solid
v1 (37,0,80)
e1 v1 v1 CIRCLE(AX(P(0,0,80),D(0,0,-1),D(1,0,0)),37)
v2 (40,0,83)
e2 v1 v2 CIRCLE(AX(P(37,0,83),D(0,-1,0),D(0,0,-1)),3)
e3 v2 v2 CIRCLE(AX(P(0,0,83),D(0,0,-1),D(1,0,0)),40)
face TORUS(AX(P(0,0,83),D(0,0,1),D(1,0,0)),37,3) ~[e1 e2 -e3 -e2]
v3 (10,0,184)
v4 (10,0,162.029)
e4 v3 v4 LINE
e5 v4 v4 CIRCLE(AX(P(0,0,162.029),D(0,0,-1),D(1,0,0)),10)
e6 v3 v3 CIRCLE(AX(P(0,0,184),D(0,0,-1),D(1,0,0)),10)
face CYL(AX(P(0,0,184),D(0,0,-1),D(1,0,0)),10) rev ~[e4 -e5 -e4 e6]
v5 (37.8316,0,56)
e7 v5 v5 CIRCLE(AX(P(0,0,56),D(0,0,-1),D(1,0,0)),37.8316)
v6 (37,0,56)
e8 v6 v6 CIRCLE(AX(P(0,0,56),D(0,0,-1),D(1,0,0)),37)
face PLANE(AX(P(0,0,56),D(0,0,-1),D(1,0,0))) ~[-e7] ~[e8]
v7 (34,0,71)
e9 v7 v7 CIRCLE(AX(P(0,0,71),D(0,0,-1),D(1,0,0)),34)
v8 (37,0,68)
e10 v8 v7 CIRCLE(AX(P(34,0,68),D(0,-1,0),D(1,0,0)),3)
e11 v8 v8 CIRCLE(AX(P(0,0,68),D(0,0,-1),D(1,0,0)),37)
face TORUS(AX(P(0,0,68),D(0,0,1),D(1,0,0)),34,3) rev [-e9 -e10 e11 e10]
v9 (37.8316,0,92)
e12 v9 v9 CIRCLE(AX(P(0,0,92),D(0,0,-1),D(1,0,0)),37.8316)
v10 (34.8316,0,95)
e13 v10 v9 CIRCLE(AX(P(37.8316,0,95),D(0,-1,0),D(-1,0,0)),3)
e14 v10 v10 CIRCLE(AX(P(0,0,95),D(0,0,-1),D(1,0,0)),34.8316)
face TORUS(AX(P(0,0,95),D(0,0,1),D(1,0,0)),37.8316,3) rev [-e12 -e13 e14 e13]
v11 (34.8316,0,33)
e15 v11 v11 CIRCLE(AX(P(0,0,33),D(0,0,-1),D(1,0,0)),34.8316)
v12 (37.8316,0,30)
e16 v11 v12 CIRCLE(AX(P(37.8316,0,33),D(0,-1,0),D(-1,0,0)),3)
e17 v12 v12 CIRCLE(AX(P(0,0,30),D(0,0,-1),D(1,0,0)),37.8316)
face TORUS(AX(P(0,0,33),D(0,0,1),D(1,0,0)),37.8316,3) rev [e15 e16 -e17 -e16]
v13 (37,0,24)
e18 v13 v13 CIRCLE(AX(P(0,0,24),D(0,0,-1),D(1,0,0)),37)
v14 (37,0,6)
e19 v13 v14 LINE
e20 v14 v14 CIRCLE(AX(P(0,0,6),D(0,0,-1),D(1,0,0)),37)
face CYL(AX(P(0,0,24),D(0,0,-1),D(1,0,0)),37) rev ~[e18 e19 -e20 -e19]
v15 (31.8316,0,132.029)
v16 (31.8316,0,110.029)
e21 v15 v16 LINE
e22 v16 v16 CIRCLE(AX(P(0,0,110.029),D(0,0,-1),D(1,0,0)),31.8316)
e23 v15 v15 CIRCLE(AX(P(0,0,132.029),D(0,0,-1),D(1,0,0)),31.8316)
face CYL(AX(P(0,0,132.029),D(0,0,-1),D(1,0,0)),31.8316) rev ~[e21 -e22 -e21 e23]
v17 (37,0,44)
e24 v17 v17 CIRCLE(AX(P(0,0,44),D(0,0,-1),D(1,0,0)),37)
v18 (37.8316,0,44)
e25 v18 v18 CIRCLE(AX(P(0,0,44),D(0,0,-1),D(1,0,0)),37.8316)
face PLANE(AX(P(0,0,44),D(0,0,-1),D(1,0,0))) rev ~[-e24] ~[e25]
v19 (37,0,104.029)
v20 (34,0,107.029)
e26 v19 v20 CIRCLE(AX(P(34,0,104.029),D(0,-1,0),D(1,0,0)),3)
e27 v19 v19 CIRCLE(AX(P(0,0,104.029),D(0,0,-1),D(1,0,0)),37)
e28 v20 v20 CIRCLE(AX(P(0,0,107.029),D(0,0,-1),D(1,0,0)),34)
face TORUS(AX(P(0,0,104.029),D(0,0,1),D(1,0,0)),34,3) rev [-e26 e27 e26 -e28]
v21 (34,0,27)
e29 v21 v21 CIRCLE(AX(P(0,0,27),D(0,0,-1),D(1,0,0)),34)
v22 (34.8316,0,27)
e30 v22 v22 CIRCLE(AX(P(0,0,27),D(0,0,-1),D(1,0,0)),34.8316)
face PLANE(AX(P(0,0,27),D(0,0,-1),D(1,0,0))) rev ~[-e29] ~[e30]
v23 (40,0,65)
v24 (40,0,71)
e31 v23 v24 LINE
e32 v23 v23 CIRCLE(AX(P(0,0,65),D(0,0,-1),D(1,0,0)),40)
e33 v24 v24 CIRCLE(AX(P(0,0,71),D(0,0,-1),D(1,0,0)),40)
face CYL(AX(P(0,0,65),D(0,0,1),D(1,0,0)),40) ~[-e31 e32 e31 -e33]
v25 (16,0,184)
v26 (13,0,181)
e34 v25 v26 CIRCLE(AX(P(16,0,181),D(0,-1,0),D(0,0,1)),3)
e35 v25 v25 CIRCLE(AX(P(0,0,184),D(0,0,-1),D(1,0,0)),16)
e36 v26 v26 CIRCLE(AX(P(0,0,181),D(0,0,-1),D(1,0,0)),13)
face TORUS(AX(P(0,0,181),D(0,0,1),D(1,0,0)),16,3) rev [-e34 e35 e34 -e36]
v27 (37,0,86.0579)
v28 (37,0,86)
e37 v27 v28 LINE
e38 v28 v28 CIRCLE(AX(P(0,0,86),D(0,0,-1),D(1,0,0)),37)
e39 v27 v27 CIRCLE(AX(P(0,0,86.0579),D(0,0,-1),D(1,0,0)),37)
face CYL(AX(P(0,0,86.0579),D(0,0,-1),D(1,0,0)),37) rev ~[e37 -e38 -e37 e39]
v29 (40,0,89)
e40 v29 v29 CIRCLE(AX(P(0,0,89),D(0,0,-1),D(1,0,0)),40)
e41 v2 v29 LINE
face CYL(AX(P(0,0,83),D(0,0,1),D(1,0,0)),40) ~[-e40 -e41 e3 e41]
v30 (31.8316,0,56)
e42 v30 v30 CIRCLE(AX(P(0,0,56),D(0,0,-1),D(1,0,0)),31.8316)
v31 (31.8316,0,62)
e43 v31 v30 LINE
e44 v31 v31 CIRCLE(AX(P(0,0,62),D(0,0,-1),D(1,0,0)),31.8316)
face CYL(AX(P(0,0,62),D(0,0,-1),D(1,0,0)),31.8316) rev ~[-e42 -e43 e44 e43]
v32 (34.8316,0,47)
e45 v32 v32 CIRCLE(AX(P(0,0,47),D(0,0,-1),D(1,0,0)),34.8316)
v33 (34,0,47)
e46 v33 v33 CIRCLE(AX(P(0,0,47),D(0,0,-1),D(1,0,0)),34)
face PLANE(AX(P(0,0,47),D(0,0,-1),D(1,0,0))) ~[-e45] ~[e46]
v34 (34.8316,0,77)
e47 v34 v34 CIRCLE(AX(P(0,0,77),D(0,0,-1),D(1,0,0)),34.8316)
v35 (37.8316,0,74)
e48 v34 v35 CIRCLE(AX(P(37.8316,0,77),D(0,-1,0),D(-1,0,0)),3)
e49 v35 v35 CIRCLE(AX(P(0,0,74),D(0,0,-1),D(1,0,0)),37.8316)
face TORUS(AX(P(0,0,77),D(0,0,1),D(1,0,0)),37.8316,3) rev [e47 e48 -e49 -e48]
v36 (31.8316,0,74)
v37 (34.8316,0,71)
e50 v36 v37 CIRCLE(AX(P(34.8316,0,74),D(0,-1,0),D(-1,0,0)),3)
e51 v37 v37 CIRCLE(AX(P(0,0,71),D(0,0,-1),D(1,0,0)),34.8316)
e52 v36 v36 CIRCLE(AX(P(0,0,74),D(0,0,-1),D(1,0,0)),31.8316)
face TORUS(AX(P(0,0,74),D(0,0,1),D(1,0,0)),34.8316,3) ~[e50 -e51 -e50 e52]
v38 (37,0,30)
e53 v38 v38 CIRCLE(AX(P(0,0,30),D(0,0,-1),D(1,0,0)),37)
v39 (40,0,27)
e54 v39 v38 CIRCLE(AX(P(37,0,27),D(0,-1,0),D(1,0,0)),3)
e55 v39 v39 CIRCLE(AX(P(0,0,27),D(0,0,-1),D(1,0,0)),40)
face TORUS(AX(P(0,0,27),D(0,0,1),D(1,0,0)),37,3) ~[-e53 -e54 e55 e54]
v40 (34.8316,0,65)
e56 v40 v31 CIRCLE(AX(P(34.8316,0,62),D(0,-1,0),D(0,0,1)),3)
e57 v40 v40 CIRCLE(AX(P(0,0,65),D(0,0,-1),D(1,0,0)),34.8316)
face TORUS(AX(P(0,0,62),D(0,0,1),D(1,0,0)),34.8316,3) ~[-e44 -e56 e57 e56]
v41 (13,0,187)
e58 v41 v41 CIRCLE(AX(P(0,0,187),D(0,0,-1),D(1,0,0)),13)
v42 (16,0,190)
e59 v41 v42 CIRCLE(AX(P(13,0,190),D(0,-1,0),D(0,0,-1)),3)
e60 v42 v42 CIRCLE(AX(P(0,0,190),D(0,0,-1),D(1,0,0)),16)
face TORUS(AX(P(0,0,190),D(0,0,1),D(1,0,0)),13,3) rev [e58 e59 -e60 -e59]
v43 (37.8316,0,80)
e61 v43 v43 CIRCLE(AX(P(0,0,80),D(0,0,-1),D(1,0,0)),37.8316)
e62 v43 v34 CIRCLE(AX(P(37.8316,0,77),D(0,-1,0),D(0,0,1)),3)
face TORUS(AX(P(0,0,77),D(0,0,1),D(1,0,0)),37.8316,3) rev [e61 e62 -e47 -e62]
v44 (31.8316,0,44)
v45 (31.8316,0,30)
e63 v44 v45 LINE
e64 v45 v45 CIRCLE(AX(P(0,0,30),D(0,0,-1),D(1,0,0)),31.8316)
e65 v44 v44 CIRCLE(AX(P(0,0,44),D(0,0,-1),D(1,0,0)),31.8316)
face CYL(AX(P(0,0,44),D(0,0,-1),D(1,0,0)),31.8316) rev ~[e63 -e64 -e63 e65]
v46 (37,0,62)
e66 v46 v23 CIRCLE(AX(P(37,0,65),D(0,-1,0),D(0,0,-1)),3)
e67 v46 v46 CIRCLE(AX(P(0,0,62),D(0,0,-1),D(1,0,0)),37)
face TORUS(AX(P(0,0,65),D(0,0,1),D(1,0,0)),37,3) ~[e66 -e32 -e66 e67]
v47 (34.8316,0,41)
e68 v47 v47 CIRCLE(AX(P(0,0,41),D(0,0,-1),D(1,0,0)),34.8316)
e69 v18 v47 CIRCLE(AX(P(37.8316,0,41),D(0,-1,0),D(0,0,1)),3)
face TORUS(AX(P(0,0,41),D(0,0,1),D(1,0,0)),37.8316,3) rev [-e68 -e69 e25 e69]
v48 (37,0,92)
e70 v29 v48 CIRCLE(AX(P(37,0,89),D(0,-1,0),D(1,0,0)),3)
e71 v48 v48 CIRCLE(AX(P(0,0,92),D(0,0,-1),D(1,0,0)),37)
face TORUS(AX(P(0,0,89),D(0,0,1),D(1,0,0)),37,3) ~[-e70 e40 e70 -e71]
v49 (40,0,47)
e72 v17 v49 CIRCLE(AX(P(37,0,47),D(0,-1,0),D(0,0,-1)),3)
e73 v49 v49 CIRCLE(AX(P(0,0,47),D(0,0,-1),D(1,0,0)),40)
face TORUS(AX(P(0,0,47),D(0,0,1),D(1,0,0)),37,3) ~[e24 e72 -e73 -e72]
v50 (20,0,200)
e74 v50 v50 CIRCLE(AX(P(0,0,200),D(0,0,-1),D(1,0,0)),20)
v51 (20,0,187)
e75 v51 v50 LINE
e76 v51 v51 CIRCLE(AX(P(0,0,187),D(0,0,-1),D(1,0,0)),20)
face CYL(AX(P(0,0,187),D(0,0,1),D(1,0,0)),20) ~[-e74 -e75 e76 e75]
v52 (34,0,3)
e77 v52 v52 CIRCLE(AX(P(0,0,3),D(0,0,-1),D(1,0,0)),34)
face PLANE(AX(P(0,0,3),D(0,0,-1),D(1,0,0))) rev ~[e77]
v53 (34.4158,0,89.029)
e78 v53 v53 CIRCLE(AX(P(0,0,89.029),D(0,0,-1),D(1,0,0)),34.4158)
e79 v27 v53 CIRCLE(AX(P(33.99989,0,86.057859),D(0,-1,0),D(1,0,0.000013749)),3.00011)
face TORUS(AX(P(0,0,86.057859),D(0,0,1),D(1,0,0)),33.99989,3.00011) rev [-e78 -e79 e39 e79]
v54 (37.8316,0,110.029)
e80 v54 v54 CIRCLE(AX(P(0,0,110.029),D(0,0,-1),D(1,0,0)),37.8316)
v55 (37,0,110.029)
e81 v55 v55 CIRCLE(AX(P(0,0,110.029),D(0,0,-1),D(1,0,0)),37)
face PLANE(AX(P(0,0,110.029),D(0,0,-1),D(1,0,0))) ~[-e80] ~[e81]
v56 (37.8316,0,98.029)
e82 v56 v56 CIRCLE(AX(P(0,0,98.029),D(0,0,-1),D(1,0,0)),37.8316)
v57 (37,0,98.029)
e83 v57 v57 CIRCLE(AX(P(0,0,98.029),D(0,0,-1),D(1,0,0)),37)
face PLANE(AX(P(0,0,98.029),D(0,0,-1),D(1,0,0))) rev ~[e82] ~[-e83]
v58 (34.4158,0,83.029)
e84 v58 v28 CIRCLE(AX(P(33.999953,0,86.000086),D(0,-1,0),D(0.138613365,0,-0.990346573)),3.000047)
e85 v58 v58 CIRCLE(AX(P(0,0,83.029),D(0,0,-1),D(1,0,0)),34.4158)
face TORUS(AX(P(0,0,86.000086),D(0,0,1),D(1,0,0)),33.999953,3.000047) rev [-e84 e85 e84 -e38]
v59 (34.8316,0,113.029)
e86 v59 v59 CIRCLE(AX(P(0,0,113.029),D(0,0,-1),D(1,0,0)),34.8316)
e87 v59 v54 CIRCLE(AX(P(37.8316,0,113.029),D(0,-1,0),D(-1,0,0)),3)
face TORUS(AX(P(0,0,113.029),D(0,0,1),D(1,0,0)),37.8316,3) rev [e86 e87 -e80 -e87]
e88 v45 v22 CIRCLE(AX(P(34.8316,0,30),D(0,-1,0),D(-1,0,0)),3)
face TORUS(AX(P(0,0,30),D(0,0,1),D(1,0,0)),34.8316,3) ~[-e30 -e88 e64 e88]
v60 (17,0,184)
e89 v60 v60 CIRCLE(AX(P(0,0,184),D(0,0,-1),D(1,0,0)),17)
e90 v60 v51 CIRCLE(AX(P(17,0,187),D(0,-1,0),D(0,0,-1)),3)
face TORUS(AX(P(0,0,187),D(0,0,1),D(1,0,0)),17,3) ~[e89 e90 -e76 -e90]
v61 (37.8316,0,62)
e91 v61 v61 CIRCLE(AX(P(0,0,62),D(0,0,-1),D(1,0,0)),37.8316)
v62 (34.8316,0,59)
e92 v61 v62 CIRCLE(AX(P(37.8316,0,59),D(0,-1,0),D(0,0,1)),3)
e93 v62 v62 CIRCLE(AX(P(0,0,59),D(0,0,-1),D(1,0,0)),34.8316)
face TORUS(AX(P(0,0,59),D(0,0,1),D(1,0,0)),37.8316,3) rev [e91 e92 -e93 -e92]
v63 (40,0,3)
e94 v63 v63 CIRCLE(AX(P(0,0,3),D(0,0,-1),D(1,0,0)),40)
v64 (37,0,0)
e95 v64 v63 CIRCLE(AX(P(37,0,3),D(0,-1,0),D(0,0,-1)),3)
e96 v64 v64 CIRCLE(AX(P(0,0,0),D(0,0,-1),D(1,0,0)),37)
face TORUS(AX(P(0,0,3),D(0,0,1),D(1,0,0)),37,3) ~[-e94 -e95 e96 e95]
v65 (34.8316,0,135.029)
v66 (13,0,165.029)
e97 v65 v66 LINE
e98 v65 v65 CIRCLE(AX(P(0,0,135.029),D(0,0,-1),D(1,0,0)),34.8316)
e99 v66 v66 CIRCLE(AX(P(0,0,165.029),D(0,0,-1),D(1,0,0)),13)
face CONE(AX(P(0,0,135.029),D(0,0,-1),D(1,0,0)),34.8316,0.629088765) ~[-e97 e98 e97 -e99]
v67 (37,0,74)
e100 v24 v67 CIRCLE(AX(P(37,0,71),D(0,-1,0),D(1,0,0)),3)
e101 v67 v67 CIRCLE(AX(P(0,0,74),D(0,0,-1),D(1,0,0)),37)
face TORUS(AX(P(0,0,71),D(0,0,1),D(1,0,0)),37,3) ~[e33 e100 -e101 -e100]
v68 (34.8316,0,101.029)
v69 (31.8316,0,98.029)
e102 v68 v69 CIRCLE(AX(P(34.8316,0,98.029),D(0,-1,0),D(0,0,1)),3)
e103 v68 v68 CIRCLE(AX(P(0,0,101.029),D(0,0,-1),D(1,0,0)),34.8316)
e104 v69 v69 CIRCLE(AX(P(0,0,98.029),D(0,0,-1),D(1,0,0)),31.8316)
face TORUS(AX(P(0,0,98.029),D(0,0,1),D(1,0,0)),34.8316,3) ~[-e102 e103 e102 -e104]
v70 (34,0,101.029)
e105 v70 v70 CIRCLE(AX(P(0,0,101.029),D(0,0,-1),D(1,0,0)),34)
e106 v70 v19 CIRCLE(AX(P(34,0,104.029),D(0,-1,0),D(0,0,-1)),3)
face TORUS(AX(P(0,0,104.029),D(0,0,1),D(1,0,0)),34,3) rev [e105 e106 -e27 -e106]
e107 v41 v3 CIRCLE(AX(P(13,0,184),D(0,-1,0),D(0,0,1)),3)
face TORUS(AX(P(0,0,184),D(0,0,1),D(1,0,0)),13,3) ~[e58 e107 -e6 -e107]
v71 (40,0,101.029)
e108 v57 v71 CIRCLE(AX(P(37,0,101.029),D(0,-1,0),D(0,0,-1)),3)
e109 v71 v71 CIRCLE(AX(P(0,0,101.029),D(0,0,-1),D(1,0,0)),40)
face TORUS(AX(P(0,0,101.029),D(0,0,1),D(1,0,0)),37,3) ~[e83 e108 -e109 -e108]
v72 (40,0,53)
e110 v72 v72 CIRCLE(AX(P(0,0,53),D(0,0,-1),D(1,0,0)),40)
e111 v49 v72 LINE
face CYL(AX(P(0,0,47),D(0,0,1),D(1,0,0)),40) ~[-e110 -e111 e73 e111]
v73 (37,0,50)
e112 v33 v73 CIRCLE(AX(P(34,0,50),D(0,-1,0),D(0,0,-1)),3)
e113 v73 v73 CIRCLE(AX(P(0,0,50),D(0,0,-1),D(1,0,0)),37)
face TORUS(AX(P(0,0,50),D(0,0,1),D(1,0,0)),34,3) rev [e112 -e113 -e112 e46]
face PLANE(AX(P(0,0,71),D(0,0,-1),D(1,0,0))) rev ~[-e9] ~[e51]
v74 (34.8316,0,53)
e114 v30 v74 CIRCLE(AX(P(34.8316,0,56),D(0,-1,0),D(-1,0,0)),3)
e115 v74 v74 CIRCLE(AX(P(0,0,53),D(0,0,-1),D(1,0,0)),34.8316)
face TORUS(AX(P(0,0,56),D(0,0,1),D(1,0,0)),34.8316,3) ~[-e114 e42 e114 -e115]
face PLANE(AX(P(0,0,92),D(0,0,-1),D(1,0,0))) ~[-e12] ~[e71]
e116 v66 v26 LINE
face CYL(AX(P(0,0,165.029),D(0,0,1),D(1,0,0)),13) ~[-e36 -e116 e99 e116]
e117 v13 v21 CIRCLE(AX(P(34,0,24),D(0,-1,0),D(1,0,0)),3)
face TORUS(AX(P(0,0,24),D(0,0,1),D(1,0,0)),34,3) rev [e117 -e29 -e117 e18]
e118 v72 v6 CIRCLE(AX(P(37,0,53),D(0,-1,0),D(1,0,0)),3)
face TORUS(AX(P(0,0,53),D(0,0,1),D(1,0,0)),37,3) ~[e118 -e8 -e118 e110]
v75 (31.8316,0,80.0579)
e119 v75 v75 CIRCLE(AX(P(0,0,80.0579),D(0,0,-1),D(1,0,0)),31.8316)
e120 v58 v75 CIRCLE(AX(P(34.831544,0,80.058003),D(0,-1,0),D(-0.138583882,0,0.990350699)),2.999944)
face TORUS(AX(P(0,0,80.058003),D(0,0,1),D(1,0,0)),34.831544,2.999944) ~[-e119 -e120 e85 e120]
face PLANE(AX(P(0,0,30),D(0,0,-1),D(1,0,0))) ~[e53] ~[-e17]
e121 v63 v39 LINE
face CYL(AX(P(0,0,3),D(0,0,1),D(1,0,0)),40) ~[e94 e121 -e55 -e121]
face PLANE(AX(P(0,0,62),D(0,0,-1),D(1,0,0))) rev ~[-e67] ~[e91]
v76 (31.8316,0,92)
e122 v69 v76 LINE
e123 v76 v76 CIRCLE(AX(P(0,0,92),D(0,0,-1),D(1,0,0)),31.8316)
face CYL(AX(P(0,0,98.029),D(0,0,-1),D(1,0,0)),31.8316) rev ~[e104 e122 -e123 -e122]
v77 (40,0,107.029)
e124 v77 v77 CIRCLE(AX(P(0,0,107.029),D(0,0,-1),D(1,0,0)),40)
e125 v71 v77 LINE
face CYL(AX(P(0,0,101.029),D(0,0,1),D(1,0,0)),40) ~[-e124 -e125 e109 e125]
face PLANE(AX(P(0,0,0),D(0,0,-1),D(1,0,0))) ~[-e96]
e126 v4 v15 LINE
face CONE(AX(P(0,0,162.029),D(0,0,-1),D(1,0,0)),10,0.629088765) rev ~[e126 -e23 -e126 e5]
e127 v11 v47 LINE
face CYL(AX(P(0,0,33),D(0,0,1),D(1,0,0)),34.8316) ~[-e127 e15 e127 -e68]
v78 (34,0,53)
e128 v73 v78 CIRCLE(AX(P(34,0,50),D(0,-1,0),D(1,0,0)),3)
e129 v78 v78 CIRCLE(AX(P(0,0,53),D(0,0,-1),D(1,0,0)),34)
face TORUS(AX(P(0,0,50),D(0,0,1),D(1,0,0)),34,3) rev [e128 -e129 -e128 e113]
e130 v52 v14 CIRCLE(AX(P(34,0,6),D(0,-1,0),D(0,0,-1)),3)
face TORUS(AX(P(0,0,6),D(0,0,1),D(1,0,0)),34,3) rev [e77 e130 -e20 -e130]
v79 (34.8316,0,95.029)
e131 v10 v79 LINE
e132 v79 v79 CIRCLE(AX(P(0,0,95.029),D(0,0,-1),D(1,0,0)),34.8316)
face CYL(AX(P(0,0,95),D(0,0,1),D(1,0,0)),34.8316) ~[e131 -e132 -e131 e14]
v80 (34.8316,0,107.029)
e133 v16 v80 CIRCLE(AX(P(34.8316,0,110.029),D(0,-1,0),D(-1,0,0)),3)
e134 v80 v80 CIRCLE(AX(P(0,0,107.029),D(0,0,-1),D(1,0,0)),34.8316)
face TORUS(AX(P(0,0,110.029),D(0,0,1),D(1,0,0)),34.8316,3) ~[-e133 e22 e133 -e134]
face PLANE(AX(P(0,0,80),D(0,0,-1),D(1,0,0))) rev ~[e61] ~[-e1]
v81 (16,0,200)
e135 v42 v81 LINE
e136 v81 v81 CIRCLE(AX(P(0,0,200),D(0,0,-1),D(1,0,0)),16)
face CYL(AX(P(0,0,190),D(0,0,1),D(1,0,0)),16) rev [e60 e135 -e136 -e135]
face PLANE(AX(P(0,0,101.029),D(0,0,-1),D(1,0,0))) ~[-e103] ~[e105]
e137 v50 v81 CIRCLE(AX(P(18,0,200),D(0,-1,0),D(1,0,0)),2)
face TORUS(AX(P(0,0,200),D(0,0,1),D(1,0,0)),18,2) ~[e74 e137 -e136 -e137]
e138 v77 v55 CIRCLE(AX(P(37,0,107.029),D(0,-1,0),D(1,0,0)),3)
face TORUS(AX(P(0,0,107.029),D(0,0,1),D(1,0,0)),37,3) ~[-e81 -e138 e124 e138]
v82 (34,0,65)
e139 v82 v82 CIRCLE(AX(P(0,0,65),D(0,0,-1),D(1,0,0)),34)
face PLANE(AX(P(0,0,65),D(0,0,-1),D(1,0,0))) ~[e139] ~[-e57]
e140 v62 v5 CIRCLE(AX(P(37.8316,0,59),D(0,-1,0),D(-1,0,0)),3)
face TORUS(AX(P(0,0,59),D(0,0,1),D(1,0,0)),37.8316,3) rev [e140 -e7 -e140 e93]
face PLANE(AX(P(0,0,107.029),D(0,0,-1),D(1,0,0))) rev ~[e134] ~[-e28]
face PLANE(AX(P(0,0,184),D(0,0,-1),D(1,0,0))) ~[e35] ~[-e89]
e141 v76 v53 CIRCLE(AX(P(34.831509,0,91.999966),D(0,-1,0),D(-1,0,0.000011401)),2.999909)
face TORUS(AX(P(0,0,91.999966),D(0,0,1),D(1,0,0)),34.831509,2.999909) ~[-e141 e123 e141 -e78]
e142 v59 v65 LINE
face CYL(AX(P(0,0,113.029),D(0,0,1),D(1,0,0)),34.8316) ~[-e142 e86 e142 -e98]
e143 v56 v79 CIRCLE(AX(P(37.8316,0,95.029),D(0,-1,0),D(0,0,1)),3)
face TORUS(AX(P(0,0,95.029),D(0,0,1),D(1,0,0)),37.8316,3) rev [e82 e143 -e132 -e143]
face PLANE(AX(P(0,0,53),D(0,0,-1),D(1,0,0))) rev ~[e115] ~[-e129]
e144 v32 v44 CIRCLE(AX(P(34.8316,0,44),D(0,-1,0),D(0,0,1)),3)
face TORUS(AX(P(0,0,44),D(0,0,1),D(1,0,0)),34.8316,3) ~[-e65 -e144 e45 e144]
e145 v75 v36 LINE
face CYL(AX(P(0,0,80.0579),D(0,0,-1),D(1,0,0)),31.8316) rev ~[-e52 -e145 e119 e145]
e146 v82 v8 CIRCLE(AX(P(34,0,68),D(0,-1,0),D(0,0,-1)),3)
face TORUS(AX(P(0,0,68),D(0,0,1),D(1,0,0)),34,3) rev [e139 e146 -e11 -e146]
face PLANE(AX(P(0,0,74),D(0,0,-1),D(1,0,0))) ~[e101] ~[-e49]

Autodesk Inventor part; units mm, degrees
ref_plane "YZ Plane" through (0, 0, 0) normal (1, 0, 0) x (0, 1, 0)
ref_plane "XZ Plane" through (0, 0, 0) normal (0, 1, 0) x (-1, 0, 0)
ref_plane "XY Plane" through (0, 0, 0) normal (0, 0, 1) x (1, 0, 0)
sketch "Boceto1" plane through (0, 0, 0) normal (0, 0, 1) x (1, 0, 0)
  line L0 (0, 0) -> (37, 0)
  line L1 (40, 3) -> (40, 27)
  line L2 (37, 30) -> (37.8316, 30)
  line L3 (34.8316, 33) -> (34.8316, 41)
  line L4 (37.8316, 44) -> (37, 44)
  line L5 (40, 47) -> (40, 53)
  line L6 (37, 56) -> (37.8316, 56)
  line L7 (34.8316, 59) -> (34.8316, 59)
  line L8 (37.8316, 62) -> (37, 62)
  line L9 (40, 65) -> (40, 71)
  line L10 (37, 74) -> (37.8316, 74)
  line L11 (34.8316, 77) -> (34.8316, 77)
  line L12 (37.8316, 80) -> (37, 80)
  line L13 (40, 83) -> (40, 89)
  line L14 (37, 92) -> (37.8316, 92)
  line L15 (34.8316, 95) -> (34.8316, 95.029)
  line L16 (37.8316, 98.029) -> (37, 98.029)
  line L17 (40, 101.029) -> (40, 107.029)
  line L18 (37, 110.029) -> (37.8316, 110.029)
  line L19 (34.8316, 113.029) -> (34.8316, 135.029)
  line L20 (34.8316, 135.029) -> (13, 165.029)
  line L21 (13, 165.029) -> (13, 181)
  line L22 (16, 184) -> (17, 184)
  line L23 (20, 187) -> (20, 200)
  arc A0 (34.8316, 113.029) -> (37.8316, 110.029) centre (37.8316, 113.029) ccw
  arc A1 (40, 107.029) -> (37, 110.029) centre (37, 107.029) ccw
  arc A2 (37, 98.029) -> (40, 101.029) centre (37, 101.029) ccw
  arc A3 (37.8316, 98.029) -> (34.8316, 95.029) centre (37.8316, 95.029) ccw
  arc A4 (34.8316, 95) -> (37.8316, 92) centre (37.8316, 95) ccw
  arc A5 (40, 89) -> (37, 92) centre (37, 89) ccw
  arc A6 (37, 80) -> (40, 83) centre (37, 83) ccw
  arc A7 (37.8316, 80) -> (34.8316, 77) centre (37.8316, 77) ccw
  arc A8 (34.8316, 77) -> (37.8316, 74) centre (37.8316, 77) ccw
  arc A9 (40, 71) -> (37, 74) centre (37, 71) ccw
  arc A10 (37, 62) -> (40, 65) centre (37, 65) ccw
  arc A11 (37.8316, 62) -> (34.8316, 59) centre (37.8316, 59) ccw
  arc A12 (34.8316, 59) -> (37.8316, 56) centre (37.8316, 59) ccw
  arc A13 (40, 53) -> (37, 56) centre (37, 53) ccw
  arc A14 (37, 44) -> (40, 47) centre (37, 47) ccw
  arc A15 (37.8316, 44) -> (34.8316, 41) centre (37.8316, 41) ccw
  arc A16 (34.8316, 33) -> (37.8316, 30) centre (37.8316, 33) ccw
  arc A17 (40, 27) -> (37, 30) centre (37, 27) ccw
  arc A18 (37, 0) -> (40, 3) centre (37, 3) ccw
  arc A19 (16, 184) -> (13, 181) centre (16, 181) ccw
  arc A20 (17, 184) -> (20, 187) centre (17, 187) ccw
  line L24 (16, 190) -> (16, 200)
  line L25 (13, 187) -> (10, 187)
  line L26 (10, 184) -> (10, 162.029)
  line L27 (10, 162.029) -> (31.8316, 132.029)
  line L28 (31.8316, 132.029) -> (31.8316, 110.029)
  line L29 (34.8316, 107.029) -> (34, 107.029)
  line L30 (37, 104.029) -> (37, 104.029)
  line L31 (34, 101.029) -> (34.8316, 101.029)
  line L32 (31.8316, 98.029) -> (31.8316, 92)
  line L33 (34.8316, 89) -> (37, 89)
  line L34 (37, 86.0579) -> (37, 86)
  line L35 (34, 83) -> (31.8316, 83)
  line L36 (31.8316, 80.0579) -> (31.8316, 74)
  line L37 (34.8316, 71) -> (34, 71)
  line L38 (37, 68) -> (37, 68)
  line L39 (34, 65) -> (34.8316, 65)
  line L40 (31.8316, 62) -> (31.8316, 56)
  line L41 (34.8316, 53) -> (34, 53)
  line L42 (37, 50) -> (37, 50)
  line L43 (34, 47) -> (34.8316, 47)
  line L44 (31.8316, 44) -> (31.8316, 30)
  line L45 (34.8316, 27) -> (34, 27)
  line L46 (37, 24) -> (37, 6)
  line L47 (34, 3) -> (0, 3)
  line L48 (0, 3) -> (0, 0)
  arc A21 (20, 200) -> (16, 200) centre (18, 200) ccw
  arc A22 (13, 187) -> (16, 190) centre (13, 190) ccw
  arc A23 (13, 187) -> (10, 184) centre (13, 184) ccw
  arc A24 (31.8316, 110.029) -> (34.8316, 107.029) centre (34.8316, 110.029) ccw
  arc A25 (37, 104.029) -> (34, 107.029) centre (34, 104.029) ccw
  arc A26 (34, 101.029) -> (37, 104.029) centre (34, 104.029) ccw
  arc A27 (34.8316, 101.029) -> (31.8316, 98.029) centre (34.8316, 98.029) ccw
  arc A28 (31.8316, 92) -> (34.4158, 89.029) centre (34.8316, 92) ccw
  arc A29 (37, 86.0579) -> (34.4158, 89.029) centre (34, 86.0579) ccw
  arc A30 (34.4158, 83.029) -> (37, 86) centre (34, 86) ccw
  arc A31 (34.4158, 83.029) -> (31.8316, 80.0579) centre (34.8316, 80.0579) ccw
  arc A32 (31.8316, 74) -> (34.8316, 71) centre (34.8316, 74) ccw
  arc A33 (37, 68) -> (34, 71) centre (34, 68) ccw
  arc A34 (34, 65) -> (37, 68) centre (34, 68) ccw
  arc A35 (34.8316, 65) -> (31.8316, 62) centre (34.8316, 62) ccw
  arc A36 (31.8316, 56) -> (34.8316, 53) centre (34.8316, 56) ccw
  arc A37 (37, 50) -> (34, 53) centre (34, 50) ccw
  arc A38 (34, 47) -> (37, 50) centre (34, 50) ccw
  arc A39 (34.8316, 47) -> (31.8316, 44) centre (34.8316, 44) ccw
  arc A40 (31.8316, 30) -> (34.8316, 27) centre (34.8316, 30) ccw
  arc A41 (37, 24) -> (34, 27) centre (34, 24) ccw
  arc A42 (34, 3) -> (37, 6) centre (34, 6) ccw
  point P0 (40, 0)
  point P1 (40, 30)
  point P2 (34.8316, 44)
  point P3 (40, 44)
  point P4 (40, 56)
  point P5 (34.8316, 62)
  point P6 (40, 62)
  point P7 (40, 74)
  point P8 (34.8316, 80)
  point P9 (40, 80)
  point P10 (40, 92)
  point P11 (34.8316, 92)
  point P12 (34.8316, 98.029)
  point P13 (40, 98.029)
  point P14 (40, 110.029)
  point P15 (34.8316, 110.029)
  point P16 (13, 184)
  point P17 (20, 200)
  point P18 (31.8316, 101.029)
  point P19 (31.8316, 89)
  point P20 (33.2074, 89)
  point P21 (37, 65)
  point P22 (31.8316, 65)
  point P23 (31.8316, 53)
  point P24 (37, 47)
  point P25 (31.8316, 47)
  point P26 (31.8316, 27)
  point P27 (37, 27)
  point P28 (37, 3)
  dimension "d1" = 30
  dimension "d2" = 25
  dimension "d5" = 12
  dimension "d7" = 12
  dimension "d9" = 12
  dimension "d13" = 40
  dimension "d14" = 3
  dimension "d15" = 3
  dimension "d16" = 3
  dimension "d17" = 3
  dimension "d18" = 3
  dimension "d19" = 3
  dimension "d20" = 3
  dimension "d21" = 3
  dimension "d22" = 3
  dimension "d23" = 3
  dimension "d24" = 3
  dimension "d25" = 3
  dimension "d26" = 3
  dimension "d27" = 3
  dimension "d28" = 3
  dimension "d29" = 3
  dimension "d30" = 3
  dimension "d31" = 3
  dimension "d32" = 3
  dimension "d34" = 3
  dimension "d37" = 3
  dimension "d38" = 3
  dimension "d39" = 3
  dimension "d40" = 3
  dimension "d43" = 3
  dimension "d44" = 3
  dimension "d45" = 3
  dimension "d46" = 3
  dimension "d47" = 3
  dimension "d48" = 3
  dimension "d49" = 3
  dimension "d50" = 3
  dimension "d51" = 3
  dimension "d52" = 3
  dimension "d53" = 3
  dimension "d54" = 3
  dimension "d55" = 2
  dimension "d56" = 3
  dimension "d57" = 3
  dimension "d58" = 3
  dimension "d59" = 3
  dimension "d61" = 12
  dimension "d62" = 12
  dimension "d63" = 20
  dimension "d64" = 12
  dimension "d65" = 12
  dimension "d66" = 200
  dimension "d67" = 3
  dimension "d68" = 3
  dimension "d70" = 30
  dimension "d73" = 10
  dimension "d74" = 25
  dimension "d75" = 20
  dimension "d76" = 16
revolve "Revolución1" add sketch "Boceto1" angle 360 about axis through (0, 3, 0) along (0, -1, 0)
move or copy body "Desplazar cuerpo1" bodies to move or copy 1 copy no rotation origin (0, 0, 0) rotation axis (1, 0, 0) rotation angle 90
properties part number "botella" material "Plástico, transparente"
